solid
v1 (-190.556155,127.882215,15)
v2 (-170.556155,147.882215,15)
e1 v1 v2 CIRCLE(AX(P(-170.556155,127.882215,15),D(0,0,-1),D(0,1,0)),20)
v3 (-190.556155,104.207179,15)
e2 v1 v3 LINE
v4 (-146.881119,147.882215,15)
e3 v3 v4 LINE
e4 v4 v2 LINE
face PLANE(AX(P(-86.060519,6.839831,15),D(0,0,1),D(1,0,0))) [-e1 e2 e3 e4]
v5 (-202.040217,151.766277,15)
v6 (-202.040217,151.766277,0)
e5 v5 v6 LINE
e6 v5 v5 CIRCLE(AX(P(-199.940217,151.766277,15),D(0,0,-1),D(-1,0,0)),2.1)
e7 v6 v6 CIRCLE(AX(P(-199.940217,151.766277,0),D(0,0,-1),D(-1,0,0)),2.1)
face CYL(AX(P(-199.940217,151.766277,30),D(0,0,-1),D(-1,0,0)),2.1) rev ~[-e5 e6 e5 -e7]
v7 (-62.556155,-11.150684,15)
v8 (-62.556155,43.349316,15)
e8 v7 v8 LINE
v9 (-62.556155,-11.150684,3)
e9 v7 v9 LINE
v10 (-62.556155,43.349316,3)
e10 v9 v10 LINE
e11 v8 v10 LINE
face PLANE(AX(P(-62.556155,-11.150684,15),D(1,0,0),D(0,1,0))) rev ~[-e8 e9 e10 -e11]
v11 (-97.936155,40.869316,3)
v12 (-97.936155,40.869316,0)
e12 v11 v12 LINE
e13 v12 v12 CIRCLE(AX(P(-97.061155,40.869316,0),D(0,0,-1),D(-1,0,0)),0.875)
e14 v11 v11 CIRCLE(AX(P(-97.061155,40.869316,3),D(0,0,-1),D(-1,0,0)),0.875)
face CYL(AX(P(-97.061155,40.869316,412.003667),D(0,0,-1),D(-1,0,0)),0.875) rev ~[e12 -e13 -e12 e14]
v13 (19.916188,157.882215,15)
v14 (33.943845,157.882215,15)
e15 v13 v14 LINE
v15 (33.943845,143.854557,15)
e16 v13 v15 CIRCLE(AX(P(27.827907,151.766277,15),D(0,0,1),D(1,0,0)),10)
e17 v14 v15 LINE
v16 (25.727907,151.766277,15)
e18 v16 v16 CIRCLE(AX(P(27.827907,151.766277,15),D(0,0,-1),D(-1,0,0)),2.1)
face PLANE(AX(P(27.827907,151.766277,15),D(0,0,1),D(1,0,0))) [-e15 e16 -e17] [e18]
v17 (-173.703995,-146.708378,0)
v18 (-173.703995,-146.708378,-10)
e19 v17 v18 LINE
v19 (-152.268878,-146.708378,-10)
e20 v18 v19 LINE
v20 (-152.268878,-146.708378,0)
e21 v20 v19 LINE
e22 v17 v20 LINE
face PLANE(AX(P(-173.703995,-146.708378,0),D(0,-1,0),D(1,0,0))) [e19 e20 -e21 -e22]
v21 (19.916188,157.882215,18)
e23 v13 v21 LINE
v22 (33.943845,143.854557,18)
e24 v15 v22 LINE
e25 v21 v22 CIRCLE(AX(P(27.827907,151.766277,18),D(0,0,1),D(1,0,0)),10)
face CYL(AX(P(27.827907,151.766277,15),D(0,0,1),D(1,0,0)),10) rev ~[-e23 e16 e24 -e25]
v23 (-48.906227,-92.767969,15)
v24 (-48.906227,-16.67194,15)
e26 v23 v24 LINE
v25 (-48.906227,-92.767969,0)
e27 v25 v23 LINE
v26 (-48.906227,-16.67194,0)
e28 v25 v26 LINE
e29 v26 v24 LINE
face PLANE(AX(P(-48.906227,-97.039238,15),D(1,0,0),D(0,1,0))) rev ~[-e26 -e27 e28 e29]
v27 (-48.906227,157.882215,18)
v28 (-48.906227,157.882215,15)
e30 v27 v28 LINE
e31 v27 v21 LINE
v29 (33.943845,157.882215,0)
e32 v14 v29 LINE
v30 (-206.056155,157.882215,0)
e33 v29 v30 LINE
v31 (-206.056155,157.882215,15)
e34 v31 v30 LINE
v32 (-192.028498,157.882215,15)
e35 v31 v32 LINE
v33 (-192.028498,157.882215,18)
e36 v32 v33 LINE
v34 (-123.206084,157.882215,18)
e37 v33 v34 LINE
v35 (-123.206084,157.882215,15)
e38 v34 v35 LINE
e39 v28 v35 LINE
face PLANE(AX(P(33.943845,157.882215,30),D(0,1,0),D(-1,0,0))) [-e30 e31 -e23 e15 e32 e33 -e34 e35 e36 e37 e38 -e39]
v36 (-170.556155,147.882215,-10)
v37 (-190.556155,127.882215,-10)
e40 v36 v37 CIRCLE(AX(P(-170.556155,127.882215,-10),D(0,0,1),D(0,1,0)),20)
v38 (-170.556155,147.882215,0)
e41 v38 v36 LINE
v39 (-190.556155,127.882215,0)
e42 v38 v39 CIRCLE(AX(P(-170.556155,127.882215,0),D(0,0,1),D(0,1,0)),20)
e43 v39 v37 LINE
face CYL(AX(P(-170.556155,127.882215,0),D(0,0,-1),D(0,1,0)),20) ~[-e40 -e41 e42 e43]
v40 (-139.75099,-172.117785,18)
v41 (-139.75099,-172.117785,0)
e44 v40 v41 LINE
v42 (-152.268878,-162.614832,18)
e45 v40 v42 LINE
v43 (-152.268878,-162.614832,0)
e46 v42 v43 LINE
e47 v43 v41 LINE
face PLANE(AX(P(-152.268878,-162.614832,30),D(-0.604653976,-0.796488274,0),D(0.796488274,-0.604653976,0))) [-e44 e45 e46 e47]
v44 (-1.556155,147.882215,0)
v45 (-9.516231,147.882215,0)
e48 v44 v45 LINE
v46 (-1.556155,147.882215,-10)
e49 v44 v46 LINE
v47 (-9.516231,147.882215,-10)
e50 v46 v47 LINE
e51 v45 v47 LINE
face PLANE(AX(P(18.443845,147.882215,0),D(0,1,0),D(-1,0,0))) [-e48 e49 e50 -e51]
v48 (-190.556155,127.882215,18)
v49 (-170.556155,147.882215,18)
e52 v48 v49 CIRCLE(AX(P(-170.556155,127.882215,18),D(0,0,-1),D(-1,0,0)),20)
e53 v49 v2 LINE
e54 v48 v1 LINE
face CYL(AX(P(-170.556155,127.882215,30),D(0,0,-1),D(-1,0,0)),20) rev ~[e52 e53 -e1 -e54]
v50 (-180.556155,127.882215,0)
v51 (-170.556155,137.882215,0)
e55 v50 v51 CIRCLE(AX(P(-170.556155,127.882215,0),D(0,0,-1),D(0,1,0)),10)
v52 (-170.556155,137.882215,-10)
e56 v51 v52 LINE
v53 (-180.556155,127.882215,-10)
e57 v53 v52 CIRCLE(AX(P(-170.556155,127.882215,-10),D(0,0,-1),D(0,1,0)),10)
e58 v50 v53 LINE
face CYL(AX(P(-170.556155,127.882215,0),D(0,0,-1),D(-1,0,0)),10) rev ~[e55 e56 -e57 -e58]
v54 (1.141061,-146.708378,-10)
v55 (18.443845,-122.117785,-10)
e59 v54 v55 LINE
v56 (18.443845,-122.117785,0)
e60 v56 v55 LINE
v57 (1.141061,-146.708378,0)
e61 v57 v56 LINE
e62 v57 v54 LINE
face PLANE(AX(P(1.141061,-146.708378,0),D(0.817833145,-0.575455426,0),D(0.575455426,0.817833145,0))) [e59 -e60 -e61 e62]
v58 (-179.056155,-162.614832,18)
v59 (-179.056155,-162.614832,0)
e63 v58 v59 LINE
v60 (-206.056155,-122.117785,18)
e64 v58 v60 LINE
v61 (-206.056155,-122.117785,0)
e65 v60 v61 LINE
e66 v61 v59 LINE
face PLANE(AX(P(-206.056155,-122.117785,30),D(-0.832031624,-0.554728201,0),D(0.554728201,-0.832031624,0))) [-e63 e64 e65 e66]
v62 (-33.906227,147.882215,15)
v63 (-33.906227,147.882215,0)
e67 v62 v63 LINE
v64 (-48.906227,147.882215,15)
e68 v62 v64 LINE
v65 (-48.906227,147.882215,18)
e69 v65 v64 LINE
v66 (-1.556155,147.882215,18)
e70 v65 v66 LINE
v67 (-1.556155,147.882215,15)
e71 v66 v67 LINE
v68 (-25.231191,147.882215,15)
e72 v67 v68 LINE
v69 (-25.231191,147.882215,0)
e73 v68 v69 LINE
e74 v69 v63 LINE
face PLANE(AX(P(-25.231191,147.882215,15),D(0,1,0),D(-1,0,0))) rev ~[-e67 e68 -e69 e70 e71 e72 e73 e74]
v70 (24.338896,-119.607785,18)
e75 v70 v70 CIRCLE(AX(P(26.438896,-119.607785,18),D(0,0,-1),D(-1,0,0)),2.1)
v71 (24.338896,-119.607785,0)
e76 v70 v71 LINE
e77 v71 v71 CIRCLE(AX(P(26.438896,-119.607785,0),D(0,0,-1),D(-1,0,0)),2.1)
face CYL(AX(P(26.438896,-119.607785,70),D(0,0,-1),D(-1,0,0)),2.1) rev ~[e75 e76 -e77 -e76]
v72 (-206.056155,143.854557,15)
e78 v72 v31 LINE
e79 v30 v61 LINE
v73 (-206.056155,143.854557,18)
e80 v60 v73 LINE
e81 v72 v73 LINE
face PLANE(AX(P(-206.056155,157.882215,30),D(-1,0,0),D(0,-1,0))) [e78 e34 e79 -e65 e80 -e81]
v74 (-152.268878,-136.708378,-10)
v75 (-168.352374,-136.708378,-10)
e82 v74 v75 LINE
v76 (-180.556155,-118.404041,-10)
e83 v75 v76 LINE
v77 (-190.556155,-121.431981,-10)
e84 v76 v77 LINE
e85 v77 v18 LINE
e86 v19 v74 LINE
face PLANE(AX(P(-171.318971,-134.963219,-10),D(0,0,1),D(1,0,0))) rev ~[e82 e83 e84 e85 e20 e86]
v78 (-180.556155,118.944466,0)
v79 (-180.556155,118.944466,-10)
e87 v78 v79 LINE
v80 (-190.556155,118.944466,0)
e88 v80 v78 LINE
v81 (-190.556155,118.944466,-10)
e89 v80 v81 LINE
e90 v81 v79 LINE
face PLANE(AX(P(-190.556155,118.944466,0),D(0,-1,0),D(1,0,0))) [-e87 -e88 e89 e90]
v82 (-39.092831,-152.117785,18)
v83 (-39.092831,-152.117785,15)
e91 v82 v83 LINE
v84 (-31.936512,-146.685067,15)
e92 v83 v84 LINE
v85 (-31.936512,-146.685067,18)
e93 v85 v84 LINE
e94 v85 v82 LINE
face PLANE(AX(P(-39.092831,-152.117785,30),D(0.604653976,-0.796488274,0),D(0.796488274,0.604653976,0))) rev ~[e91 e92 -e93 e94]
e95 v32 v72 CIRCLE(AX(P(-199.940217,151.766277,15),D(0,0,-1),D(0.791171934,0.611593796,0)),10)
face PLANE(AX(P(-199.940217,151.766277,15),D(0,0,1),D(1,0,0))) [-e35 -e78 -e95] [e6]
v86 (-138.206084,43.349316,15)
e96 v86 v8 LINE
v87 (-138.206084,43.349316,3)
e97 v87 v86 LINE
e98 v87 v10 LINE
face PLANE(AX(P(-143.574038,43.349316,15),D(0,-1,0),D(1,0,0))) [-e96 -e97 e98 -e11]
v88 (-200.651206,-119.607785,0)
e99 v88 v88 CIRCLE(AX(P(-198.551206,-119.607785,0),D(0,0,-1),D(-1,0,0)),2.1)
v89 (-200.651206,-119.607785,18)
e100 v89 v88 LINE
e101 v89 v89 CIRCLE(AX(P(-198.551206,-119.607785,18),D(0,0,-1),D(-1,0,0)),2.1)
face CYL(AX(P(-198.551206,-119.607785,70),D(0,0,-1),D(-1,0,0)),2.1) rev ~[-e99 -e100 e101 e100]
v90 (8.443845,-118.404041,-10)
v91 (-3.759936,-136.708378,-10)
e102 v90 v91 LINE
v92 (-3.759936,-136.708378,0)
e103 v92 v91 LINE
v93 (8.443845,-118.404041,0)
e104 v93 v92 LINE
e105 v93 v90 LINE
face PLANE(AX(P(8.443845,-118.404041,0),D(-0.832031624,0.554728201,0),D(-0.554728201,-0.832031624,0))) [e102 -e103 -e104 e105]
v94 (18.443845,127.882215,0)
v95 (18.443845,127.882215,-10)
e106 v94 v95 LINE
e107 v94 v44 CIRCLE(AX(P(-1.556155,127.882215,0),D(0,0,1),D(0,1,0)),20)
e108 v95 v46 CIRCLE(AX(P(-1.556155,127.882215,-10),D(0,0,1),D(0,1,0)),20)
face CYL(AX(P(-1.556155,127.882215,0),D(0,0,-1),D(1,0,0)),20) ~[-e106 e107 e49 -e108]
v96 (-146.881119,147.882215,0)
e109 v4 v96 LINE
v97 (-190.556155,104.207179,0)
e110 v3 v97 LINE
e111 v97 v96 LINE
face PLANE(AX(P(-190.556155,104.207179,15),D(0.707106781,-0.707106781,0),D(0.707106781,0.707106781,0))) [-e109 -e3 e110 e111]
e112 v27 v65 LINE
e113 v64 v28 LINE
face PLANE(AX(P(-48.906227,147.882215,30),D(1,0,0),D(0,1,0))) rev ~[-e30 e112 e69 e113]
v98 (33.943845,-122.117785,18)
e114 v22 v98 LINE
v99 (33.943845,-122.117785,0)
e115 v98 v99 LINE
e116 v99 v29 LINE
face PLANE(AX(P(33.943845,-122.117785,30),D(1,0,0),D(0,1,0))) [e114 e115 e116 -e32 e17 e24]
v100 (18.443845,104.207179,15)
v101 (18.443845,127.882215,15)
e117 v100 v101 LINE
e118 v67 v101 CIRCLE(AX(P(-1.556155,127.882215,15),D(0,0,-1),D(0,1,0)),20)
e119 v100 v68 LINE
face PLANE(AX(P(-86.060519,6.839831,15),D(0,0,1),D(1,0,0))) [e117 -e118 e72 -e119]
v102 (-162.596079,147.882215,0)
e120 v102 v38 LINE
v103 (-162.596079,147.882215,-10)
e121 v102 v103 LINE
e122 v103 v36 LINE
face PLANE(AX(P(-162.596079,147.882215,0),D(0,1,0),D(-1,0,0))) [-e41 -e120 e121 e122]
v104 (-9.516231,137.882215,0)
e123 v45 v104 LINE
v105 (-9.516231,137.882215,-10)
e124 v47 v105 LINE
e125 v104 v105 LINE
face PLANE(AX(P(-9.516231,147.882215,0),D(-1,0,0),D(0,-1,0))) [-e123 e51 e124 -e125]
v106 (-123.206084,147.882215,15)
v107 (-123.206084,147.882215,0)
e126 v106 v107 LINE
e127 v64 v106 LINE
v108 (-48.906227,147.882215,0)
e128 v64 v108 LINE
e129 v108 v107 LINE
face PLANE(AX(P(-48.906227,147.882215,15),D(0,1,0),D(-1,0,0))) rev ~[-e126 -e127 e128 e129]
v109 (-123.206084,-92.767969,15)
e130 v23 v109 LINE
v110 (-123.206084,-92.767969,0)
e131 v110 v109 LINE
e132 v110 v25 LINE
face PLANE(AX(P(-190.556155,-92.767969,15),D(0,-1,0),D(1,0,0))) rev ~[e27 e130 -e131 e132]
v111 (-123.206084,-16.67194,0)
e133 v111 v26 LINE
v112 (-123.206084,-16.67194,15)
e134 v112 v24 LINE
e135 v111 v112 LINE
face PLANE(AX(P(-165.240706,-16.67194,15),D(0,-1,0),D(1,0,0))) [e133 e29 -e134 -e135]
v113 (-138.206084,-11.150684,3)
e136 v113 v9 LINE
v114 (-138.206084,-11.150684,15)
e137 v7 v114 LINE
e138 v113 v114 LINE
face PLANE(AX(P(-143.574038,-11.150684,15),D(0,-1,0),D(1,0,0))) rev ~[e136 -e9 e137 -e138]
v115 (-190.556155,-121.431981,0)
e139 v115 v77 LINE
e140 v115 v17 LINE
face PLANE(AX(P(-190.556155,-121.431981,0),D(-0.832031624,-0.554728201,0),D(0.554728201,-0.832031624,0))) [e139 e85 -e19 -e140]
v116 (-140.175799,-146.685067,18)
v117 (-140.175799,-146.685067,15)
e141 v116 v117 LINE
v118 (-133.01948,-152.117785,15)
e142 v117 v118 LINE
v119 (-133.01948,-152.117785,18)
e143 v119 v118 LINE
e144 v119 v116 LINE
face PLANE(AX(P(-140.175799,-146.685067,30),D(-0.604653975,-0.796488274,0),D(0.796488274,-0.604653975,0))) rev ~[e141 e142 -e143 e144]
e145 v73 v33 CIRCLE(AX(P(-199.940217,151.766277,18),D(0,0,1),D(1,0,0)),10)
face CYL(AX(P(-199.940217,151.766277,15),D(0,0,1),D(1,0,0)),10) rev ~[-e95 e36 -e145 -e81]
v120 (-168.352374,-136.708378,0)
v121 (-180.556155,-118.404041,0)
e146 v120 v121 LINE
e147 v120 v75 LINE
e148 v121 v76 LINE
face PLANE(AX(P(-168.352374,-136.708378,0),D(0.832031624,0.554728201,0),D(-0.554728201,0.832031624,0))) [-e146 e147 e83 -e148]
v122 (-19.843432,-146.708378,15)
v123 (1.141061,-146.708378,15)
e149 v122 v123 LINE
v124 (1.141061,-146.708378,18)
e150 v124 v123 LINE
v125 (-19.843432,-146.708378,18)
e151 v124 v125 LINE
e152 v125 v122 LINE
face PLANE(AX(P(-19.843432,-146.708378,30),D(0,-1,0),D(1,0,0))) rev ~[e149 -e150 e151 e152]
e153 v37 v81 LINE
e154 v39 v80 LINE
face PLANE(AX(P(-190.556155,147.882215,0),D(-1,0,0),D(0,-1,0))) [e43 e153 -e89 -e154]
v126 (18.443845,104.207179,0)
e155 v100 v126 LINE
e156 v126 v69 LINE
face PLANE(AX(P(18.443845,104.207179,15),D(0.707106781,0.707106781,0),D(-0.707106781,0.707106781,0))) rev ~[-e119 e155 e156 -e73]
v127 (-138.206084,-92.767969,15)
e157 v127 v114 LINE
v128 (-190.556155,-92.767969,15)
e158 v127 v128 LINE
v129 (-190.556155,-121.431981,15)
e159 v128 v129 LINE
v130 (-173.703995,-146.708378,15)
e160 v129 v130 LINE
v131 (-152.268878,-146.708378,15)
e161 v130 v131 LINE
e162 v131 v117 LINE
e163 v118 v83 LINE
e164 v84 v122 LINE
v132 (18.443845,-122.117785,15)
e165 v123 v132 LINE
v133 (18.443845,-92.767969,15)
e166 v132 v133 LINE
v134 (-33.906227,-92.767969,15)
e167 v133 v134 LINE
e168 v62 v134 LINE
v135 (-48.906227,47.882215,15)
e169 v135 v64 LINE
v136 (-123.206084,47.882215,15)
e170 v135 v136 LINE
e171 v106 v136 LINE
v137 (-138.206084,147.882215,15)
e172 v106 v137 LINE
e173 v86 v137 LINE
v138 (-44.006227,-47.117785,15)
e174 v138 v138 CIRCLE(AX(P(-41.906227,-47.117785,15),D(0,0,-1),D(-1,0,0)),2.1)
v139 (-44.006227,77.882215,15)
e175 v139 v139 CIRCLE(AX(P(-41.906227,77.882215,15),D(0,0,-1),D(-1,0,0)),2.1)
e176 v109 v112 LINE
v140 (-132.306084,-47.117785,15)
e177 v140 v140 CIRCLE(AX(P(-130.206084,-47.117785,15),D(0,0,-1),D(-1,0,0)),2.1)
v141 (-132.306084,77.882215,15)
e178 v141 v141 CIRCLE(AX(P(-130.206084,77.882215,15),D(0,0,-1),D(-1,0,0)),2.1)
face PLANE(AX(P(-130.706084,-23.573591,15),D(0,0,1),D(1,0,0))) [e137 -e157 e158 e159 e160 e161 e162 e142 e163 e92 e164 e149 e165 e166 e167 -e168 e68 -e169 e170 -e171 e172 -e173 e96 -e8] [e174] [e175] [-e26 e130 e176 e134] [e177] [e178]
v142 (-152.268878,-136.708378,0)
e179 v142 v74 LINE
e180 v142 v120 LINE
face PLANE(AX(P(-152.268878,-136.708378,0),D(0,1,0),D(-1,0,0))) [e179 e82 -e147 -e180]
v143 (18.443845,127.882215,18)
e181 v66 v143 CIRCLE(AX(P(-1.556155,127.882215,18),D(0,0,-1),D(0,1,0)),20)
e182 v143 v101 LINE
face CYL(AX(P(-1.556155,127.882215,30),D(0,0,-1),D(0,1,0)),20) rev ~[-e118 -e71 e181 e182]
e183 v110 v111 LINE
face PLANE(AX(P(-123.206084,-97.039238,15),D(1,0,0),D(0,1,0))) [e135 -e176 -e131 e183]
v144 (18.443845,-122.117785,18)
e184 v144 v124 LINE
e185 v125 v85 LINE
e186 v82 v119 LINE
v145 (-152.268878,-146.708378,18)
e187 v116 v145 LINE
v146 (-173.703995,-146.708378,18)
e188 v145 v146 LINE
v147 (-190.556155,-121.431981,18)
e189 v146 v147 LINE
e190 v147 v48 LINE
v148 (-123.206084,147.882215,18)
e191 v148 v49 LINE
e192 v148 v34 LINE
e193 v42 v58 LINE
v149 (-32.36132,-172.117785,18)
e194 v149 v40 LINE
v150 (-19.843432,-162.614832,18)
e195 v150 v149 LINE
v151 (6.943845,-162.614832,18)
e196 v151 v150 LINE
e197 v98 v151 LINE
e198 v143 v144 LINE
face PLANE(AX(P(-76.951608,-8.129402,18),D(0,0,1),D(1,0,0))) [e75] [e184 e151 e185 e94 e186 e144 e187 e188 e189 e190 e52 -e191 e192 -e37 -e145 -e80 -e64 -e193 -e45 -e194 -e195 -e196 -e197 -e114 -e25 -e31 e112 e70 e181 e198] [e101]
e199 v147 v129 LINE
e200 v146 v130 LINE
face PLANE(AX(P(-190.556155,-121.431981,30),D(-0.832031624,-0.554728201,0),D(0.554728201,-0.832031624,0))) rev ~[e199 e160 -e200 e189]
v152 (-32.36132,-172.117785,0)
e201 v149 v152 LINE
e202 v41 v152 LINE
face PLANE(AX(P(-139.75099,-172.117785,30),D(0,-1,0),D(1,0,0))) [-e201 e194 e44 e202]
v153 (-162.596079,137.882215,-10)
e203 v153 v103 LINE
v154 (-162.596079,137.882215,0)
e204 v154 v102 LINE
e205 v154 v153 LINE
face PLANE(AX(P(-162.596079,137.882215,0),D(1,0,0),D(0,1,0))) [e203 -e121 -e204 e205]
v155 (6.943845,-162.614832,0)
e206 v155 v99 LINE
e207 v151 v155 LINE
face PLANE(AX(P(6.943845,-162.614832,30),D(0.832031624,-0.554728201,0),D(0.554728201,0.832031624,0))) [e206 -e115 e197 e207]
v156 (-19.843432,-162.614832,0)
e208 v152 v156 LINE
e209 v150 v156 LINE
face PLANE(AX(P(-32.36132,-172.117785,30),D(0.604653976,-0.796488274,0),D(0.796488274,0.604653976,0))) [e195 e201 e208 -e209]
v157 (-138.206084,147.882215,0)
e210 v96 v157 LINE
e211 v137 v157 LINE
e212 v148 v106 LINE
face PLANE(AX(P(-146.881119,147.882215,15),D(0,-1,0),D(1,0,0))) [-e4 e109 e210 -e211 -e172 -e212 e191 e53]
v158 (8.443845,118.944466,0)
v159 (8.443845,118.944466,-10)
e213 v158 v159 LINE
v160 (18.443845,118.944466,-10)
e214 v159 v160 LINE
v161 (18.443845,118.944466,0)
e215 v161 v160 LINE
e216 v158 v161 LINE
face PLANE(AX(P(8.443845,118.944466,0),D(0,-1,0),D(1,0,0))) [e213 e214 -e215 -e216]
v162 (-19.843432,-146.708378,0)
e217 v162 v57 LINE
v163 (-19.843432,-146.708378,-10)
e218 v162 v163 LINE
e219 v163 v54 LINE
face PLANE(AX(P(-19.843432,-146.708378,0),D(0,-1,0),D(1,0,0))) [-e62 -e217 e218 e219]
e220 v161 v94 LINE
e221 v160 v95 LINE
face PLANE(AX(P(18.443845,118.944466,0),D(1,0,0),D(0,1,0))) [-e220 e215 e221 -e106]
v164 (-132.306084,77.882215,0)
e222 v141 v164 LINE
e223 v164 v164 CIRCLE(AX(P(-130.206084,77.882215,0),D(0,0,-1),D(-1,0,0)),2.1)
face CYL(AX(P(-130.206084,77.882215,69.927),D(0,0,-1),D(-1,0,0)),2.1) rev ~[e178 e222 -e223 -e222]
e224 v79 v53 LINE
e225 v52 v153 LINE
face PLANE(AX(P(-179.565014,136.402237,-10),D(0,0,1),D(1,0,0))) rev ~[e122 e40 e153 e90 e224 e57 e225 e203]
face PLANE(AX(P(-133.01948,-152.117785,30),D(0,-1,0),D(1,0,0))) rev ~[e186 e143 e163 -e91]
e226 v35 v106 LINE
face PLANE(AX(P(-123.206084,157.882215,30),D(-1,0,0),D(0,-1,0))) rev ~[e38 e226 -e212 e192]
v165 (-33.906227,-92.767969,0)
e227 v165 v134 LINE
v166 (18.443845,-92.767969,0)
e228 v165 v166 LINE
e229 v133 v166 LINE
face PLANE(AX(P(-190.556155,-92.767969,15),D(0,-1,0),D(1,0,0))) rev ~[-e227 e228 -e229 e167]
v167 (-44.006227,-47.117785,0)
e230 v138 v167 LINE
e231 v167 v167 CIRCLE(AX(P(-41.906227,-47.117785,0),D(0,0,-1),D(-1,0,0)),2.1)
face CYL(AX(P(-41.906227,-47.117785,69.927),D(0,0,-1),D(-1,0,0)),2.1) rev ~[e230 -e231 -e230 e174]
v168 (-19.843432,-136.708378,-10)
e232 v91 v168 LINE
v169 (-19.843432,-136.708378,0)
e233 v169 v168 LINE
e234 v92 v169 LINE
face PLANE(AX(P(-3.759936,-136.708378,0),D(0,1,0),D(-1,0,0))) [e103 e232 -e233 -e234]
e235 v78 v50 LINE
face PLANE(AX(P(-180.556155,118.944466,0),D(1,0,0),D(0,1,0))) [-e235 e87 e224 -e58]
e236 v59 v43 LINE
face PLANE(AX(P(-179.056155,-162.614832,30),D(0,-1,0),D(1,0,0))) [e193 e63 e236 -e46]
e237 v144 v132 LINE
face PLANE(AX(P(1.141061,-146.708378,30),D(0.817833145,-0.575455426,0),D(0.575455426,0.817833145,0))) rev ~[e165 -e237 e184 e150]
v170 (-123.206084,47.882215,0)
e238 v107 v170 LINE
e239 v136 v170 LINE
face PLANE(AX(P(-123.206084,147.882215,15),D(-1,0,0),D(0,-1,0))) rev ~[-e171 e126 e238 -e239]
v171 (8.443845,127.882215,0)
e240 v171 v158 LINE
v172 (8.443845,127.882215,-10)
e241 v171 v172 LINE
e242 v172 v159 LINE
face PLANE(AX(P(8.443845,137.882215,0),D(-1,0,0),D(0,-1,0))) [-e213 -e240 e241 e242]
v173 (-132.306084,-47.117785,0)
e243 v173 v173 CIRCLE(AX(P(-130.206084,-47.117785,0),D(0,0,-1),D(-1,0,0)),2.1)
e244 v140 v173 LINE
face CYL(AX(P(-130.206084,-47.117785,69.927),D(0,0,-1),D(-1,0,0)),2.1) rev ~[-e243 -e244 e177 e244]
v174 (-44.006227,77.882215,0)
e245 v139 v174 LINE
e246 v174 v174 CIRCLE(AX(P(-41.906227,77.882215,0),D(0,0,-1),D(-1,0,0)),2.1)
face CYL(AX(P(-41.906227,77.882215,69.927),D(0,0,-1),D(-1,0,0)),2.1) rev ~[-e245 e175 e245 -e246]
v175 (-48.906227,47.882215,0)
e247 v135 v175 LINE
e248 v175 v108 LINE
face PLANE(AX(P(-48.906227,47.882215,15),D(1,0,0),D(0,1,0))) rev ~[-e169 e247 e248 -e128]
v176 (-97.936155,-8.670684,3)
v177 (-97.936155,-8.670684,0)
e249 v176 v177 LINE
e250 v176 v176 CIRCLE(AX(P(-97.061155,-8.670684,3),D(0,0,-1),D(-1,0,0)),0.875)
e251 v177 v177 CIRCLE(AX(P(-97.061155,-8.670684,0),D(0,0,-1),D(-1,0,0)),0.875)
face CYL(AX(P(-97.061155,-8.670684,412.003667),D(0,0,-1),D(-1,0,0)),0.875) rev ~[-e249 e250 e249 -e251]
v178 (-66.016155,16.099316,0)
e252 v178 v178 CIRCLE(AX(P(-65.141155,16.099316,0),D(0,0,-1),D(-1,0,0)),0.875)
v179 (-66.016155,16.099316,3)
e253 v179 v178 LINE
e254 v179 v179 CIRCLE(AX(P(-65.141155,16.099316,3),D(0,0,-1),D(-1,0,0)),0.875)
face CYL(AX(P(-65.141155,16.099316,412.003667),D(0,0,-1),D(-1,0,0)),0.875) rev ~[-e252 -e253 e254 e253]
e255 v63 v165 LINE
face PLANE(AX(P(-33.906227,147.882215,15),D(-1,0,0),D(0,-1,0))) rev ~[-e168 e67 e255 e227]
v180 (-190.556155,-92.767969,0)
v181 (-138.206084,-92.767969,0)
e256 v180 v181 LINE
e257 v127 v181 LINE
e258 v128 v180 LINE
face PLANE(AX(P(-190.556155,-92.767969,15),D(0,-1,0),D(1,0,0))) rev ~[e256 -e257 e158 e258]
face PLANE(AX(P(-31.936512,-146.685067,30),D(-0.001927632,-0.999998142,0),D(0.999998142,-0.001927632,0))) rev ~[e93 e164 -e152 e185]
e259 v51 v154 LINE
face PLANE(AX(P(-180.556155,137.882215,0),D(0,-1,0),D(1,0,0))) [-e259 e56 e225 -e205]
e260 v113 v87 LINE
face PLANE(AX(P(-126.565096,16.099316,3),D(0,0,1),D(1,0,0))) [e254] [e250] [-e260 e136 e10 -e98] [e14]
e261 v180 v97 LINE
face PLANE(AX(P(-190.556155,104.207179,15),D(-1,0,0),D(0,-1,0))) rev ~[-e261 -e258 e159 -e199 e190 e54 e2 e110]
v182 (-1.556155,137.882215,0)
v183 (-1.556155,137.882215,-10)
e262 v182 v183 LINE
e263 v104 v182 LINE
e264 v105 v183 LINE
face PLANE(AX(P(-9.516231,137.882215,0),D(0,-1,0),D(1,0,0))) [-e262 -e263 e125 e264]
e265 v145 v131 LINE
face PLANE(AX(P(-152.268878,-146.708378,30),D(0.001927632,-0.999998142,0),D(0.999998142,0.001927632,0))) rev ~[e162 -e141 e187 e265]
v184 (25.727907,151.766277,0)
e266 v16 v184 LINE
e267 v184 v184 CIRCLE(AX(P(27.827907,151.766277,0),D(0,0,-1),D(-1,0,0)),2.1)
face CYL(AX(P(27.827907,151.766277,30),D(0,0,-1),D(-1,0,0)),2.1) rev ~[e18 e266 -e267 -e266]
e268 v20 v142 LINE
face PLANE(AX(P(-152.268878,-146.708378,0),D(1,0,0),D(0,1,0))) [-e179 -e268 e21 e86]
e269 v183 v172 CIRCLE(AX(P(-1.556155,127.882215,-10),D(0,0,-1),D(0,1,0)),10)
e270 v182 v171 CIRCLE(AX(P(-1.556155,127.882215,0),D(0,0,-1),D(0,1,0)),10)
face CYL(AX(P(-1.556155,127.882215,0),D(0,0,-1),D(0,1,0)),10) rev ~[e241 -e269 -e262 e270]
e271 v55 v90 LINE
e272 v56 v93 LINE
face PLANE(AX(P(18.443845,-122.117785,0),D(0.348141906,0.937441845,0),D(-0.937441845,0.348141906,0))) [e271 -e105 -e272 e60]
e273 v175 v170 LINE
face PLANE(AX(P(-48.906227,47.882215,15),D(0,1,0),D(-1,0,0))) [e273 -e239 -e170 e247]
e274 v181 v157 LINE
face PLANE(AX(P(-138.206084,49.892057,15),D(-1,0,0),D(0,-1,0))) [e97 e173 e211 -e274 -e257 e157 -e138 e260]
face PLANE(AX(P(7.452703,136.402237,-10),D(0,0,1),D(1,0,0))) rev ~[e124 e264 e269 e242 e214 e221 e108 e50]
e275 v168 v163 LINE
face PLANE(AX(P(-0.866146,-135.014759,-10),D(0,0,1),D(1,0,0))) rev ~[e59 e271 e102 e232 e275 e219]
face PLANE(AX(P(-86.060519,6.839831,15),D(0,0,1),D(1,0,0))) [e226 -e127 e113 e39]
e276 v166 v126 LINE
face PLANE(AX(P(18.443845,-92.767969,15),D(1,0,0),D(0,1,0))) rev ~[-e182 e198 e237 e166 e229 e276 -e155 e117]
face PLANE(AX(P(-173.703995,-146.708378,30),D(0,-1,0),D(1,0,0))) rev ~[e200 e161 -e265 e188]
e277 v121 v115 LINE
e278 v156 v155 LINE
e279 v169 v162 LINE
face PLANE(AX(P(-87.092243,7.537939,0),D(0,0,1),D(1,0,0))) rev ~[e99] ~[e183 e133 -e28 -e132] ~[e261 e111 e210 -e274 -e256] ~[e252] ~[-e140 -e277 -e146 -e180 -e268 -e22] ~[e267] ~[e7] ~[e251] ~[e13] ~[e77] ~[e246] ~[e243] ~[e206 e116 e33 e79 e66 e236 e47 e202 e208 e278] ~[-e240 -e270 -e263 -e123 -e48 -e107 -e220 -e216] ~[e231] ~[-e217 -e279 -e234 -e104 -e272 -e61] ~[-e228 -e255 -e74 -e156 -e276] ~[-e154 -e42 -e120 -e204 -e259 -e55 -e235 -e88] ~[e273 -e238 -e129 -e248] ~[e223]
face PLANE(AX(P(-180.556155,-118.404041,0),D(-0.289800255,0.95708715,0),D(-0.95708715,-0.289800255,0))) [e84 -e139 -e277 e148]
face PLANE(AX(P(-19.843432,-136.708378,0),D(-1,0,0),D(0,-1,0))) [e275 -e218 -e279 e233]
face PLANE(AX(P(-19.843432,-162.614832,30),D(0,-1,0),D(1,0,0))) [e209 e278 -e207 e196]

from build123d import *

# Parameters (mm, degrees)
BOSS_EXTRU_1_DEPTH                                = 30
ENL_V_MAT_EXTRU_1_DEPTH                           = 15
BOSS_EXTRU_2_DEPTH                                = 10
BOSS_EXTRU_3_DEPTH                                = 10
BOSS_EXTRU_4_DEPTH                                = 10
BOSS_EXTRU_5_DEPTH                                = 10
DIAM_TRE_DU_PER_AGE_4_2_4_2_1_D                   = 4.2
DIAM_TRE_DU_PER_AGE_4_2_4_2_1_DEPTH               = 40
CHAMBRAGE_POUR_VIS_T_TE_HEXAGONALE_M3_D           = 4.2
CHAMBRAGE_POUR_VIS_T_TE_HEXAGONALE_M3_DEPTH       = 40
CHAMBRAGE_POUR_VIS_T_TE_HEXAGONALE_M3_CBORE_D     = 20
CHAMBRAGE_POUR_VIS_T_TE_HEXAGONALE_M3_CBORE_DEPTH = 15
CONG_1_R                                          = 10
CONG_2_R                                          = 20
ENL_V_MAT_EXTRU_2_DEPTH                           = 270.645454496
TROU_TARAUD_M5X0_81_D                             = 4.2
TROU_TARAUD_M5X0_81_ON_FACE_2_D                   = 4.2
BOSS_EXTRU_6_DEPTH                                = 15
ESQUISSE14_W                                      = 344.623968027
ESQUISSE14_H                                      = 364.856294917
ENL_V_MAT_EXTRU_3_DEPTH                           = 12
BOSS_EXTRU_7_DEPTH                                = 15
ESQUISSE16_W                                      = 47
ESQUISSE16_H                                      = 54.5
ENL_V_MAT_EXTRU_4_DEPTH                           = 12
ESQUISSE17_R                                      = 0.5
ENL_V_MAT_EXTRU_5_DEPTH                           = 12
TROU_TARAUD_M2_2X0_451_D                          = 1.75
ENL_V_MAT_EXTRU_6_DEPTH                           = 270.645454496
BOSS_EXTRU_8_DEPTH                                = 15
ESQUISSE21_W                                      = 34.017882368
ESQUISSE21_H                                      = 54.5
ENL_V_MAT_EXTRU_7_DEPTH                           = 12
TROU_TARAUD_M5X0_82_D                             = 4.2
TROU_TARAUD_M5X0_82_DEPTH                         = 54.927
TROU_TARAUD_M5X0_82_TIP                           = 1.2618073
TROU_TARAUD_M5X0_84_D                             = 4.2
TROU_TARAUD_M5X0_84_DEPTH                         = 54.927
TROU_TARAUD_M5X0_84_TIP                           = 1.2618073


with BuildPart() as part:
    # Esquisse1 → Boss.-Extru.1 (new body)
    with BuildSketch(Plane.XY.offset(30)):
        Polygon((33.943844834, -122.117785393), (33.943844834, 157.882214607), (-206.056155166, 157.882214607), (-206.056155166, -122.117785393), (-179.056155166, -162.614832092), (-152.268878217, -162.614832092), (-139.750990012, -172.117785393), (-32.361320321, -172.117785393), (-19.843432116, -162.614832092), (6.943844834, -162.614832092), align=None)
    extrude(amount=-BOSS_EXTRU_1_DEPTH)

    # Esquisse2 → Enlèv. mat.-Extru.1 (cut)
    with BuildSketch(Plane.XY.offset(30)):
        Polygon((-123.206083599, 157.882214607), (-123.206083599, 147.882214607), (-190.556155166, 147.882214607), (-190.556155166, -121.431981452), (-173.70399548, -146.708377667), (-152.268878217, -146.708377667), (-140.175798707, -146.685066621), (-133.019479604, -152.117785393), (-39.092830728, -152.117785393), (-31.936511626, -146.685066621), (-19.843432116, -146.708377667), (1.141061448, -146.708377667), (18.443844834, -122.117785393), (18.443844834, 147.882214607), (-48.906226734, 147.882214607), (-48.906226734, 157.882214607), align=None)
    extrude(amount=-ENL_V_MAT_EXTRU_1_DEPTH, mode=Mode.SUBTRACT)

    # Esquisse3 → Boss.-Extru.2 (add)
    with BuildSketch(Plane(origin=(0, 0, 0), x_dir=(-1, 0, 0), z_dir=(0, 0, -1))):
        Polygon((162.596079372, 137.882214607), (162.596079372, 147.882214607), (190.556155166, 147.882214607), (190.556155166, 118.944465923), (180.556155166, 118.944465923), (180.556155166, 137.882214607), align=None)
    extrude(amount=BOSS_EXTRU_2_DEPTH)

    # Esquisse4 → Boss.-Extru.3 (add)
    with BuildSketch(Plane(origin=(0, 0, 0), x_dir=(-1, 0, 0), z_dir=(0, 0, -1))):
        Polygon((152.268878217, -136.708377667), (168.352374382, -136.708377667), (180.556155166, -118.404041358), (190.556155166, -121.431981452), (173.70399548, -146.708377667), (152.268878217, -146.708377667), align=None)
    extrude(amount=BOSS_EXTRU_3_DEPTH)

    # Esquisse5 → Boss.-Extru.4 (add)
    with BuildSketch(Plane(origin=(0, 0, 0), x_dir=(-1, 0, 0), z_dir=(0, 0, -1))):
        Polygon((-8.443844834, 137.882214607), (-8.443844834, 118.944465923), (-18.443844834, 118.944465923), (-18.443844834, 147.882214607), (9.516230961, 147.882214607), (9.516230961, 137.882214607), align=None)
    extrude(amount=BOSS_EXTRU_4_DEPTH)

    # Esquisse6 → Boss.-Extru.5 (add)
    with BuildSketch(Plane(origin=(0, 0, 0), x_dir=(-1, 0, 0), z_dir=(0, 0, -1))):
        Polygon((3.759935951, -136.708377667), (19.843432116, -136.708377667), (19.843432116, -146.708377667), (-1.141061448, -146.708377667), (-18.443844834, -122.117785393), (-8.443844834, -118.404041358), align=None)
    extrude(amount=BOSS_EXTRU_5_DEPTH)

    # Diamètre du perçage Ø4.2 (4.2)1
    with Locations(Plane.XY.offset(30)):
        with Locations((26.438895769, -119.607785393), (-198.551206101, -119.607785393)):
            Hole(DIAM_TRE_DU_PER_AGE_4_2_4_2_1_D / 2, depth=DIAM_TRE_DU_PER_AGE_4_2_4_2_1_DEPTH)

    # Chambrage pour vis à tête hexagonale M3.51
    with Locations(Plane.XY.offset(30)):
        with Locations((-199.94021721, 151.76627665), (27.827906877, 151.76627665)):
            CounterBoreHole(CHAMBRAGE_POUR_VIS_T_TE_HEXAGONALE_M3_D / 2, CHAMBRAGE_POUR_VIS_T_TE_HEXAGONALE_M3_CBORE_D / 2, CHAMBRAGE_POUR_VIS_T_TE_HEXAGONALE_M3_CBORE_DEPTH, depth=CHAMBRAGE_POUR_VIS_T_TE_HEXAGONALE_M3_DEPTH)

    # Congé1
    cong_1_edges = [part.edges().sort_by_distance(p)[0] for p in [
        (8.443844834, 137.882214607, -5),
        (-180.556155166, 137.882214607, -5),
    ]]
    fillet(cong_1_edges, radius=CONG_1_R)

    # Congé2
    cong_2_edges = [part.edges().sort_by_distance(p)[0] for p in [
        (18.443844834, 147.882214607, -5),
        (18.443844834, 147.882214607, 22.5),
        (-190.556155166, 147.882214607, 22.5),
        (-190.556155166, 147.882214607, -5),
    ]]
    fillet(cong_2_edges, radius=CONG_2_R)

    # Esquisse11 → Enlèv. mat.-Extru.2 (cut, through all)
    with BuildSketch(Plane.XY.offset(15)):
        Polygon((-123.206083599, 147.882214607), (-123.206083599, 47.882214607), (-190.556155166, -22.43592162), (-190.556155166, -92.767969228), (18.443844834, -92.767969228), (18.443844834, -22.43592162), (-48.906226734, 47.882214607), (-48.906226734, 147.882214607), align=None)
        Polygon((-138.206083599, 147.882214607), (-138.206083599, 57.882214607), (-190.556155166, 3.225116578), (-190.556155166, 95.532143039), (-190.556155166, 104.207178823), (-146.881119383, 147.882214607), align=None)
        Polygon((-33.906226734, 57.882214607), (18.443844834, 3.225116578), (18.443844834, 95.532143039), (18.443844834, 104.207178823), (-25.23119095, 147.882214607), (-33.906226734, 147.882214607), align=None)
    extrude(amount=-ENL_V_MAT_EXTRU_2_DEPTH, mode=Mode.SUBTRACT)

    # Trou taraudé M5x0.81 (through all)
    with Locations(Plane(origin=(-199.94021721, 151.76627665, 15), x_dir=(1, 0, 0), z_dir=(0, 0, 1))):
        with Locations((0, 0), (227.768124087, 0)):
            Hole(TROU_TARAUD_M5X0_81_D / 2)

    # Trou taraudé M5x0.81 on face 2 (through all)
    with Locations(Plane(origin=(26.438895769, -119.607785393, 30), x_dir=(1, 0, 0), z_dir=(0, 0, 1))):
        with Locations((0, 0), (-224.99010187, 0)):
            Hole(TROU_TARAUD_M5X0_81_ON_FACE_2_D / 2)

    # Esquisse13 → Boss.-Extru.6 (add)
    with BuildSketch(Plane.XY.offset(15)):
        Polygon((-48.906226734, 47.882214607), (-123.206083599, 47.882214607), (-148.90605105, 21.049669812), (-190.556155166, -22.43592162), (-190.556155166, -49.268466414), (-123.206083599, 21.049669812), (-48.906226734, 21.049669812), (18.443844834, -49.268466414), (18.443844834, -22.43592162), (-23.206259282, 21.049669812), align=None)
    extrude(amount=-BOSS_EXTRU_6_DEPTH)

    # Esquisse14 → Enlèv. mat.-Extru.3 (cut)
    with BuildSketch(Plane.XY.offset(30)):
        with Locations((-76.951608065, -8.129401738)):
            Rectangle(ESQUISSE14_W, ESQUISSE14_H)
    extrude(amount=-ENL_V_MAT_EXTRU_3_DEPTH, mode=Mode.SUBTRACT)

    # Esquisse15 → Boss.-Extru.7 (add)
    with BuildSketch(Plane.XY.offset(15)):
        Polygon((-165.240705537, 11.949496673), (-165.240705537, -16.671939758), (-10.373483375, -16.671939758), (-10.373483375, 17.080639576), (-29.498652377, 36.205808578), (-140.984393632, 36.205808578), align=None)
    extrude(amount=-BOSS_EXTRU_7_DEPTH)

    # Esquisse16 → Enlèv. mat.-Extru.4 (cut)
    with BuildSketch(Plane.XY.offset(15)):
        with Locations((-86.056155166, 16.099315521)):
            Rectangle(ESQUISSE16_W, ESQUISSE16_H)
    extrude(amount=-ENL_V_MAT_EXTRU_4_DEPTH, mode=Mode.SUBTRACT)

    # Esquisse17 → Enlèv. mat.-Extru.5 (cut)
    with BuildSketch(Plane.XY.offset(3)):
        with Locations((-97.061155166, 40.869315521)):
            Circle(ESQUISSE17_R)
        with Locations((-65.141155166, 16.099315521)):
            Circle(ESQUISSE17_R)
        with Locations((-97.061155166, -8.670684479)):
            Circle(ESQUISSE17_R)
    extrude(amount=-ENL_V_MAT_EXTRU_5_DEPTH, mode=Mode.SUBTRACT)

    # Trou taraudé M2.2x0.451 (through all)
    with Locations(Plane(origin=(-97.061155166, 40.869315521, 3), x_dir=(1, 0, 0), z_dir=(0, 0, 1))):
        with Locations((0, 0), (31.92, -24.77), (0, -49.54)):
            Hole(TROU_TARAUD_M2_2X0_451_D / 2)

    # Esquisse19 → Enlèv. mat.-Extru.6 (cut, through all)
    with BuildSketch(Plane.XY.offset(15)):
        Polygon((-138.206083599, -92.767969228), (-138.206083599, -16.671939758), (-159.335498292, -16.671939758), (-190.556155166, -49.268466414), (-190.556155166, -92.767969228), align=None)
        Polygon((-190.556155166, 3.225116578), (-138.206083599, 57.882214607), (-190.556155166, 57.882214607), align=None)
        Polygon((-138.206083599, -16.671939758), (-138.206083599, 57.882214607), (-190.556155166, 3.225116578), (-190.556155166, -49.268466414), (-159.335498292, -16.671939758), align=None)
        Polygon((18.443844834, 57.882214607), (-33.906226734, 57.882214607), (18.443844834, 3.225116578), align=None)
        Polygon((-33.906226734, 57.882214607), (-33.906226734, -16.671939758), (-12.77681204, -16.671939758), (18.443844834, -49.268466414), (18.443844834, 3.225116578), align=None)
        Polygon((-12.77681204, -16.671939758), (-33.906226734, -16.671939758), (-33.906226734, -92.767969228), (18.443844834, -92.767969228), (18.443844834, -49.268466414), align=None)
    extrude(amount=-ENL_V_MAT_EXTRU_6_DEPTH, mode=Mode.SUBTRACT)

    # Esquisse20 → Boss.-Extru.8 (add)
    with BuildSketch(Plane.XY.offset(15)):
        Polygon((-138.206083599, -16.671939758), (-138.206083599, -97.039238238), (-123.206083599, -97.039238238), (-123.206083599, 49.892057072), (-138.206083599, 49.892057072), align=None)
        Polygon((-48.906226734, 49.892057072), (-33.906226734, 49.892057072), (-33.906226734, -16.671939758), (-33.906226734, -97.039238238), (-48.906226734, -97.039238238), align=None)
    extrude(amount=-BOSS_EXTRU_8_DEPTH)

    # Esquisse21 → Enlèv. mat.-Extru.7 (cut)
    with BuildSketch(Plane.XY.offset(15)):
        with Locations((-126.56509635, 16.099315521)):
            Rectangle(ESQUISSE21_W, ESQUISSE21_H)
    extrude(amount=-ENL_V_MAT_EXTRU_7_DEPTH, mode=Mode.SUBTRACT)

    # Trou taraudé M5x0.82
    with Locations(Plane(origin=(-130.206083599, 77.882214607, 15), x_dir=(1, 0, 0), z_dir=(0, 0, 1))):
        with Locations((0, 0), (88.299856865, 0)):
            Hole(TROU_TARAUD_M5X0_82_D / 2, depth=TROU_TARAUD_M5X0_82_DEPTH)
            with Locations((0, 0, -(TROU_TARAUD_M5X0_82_DEPTH + TROU_TARAUD_M5X0_82_TIP / 2))):  # 118° drill point
                Cone(0, TROU_TARAUD_M5X0_82_D / 2, TROU_TARAUD_M5X0_82_TIP, mode=Mode.SUBTRACT)

    # Trou taraudé M5x0.84
    with Locations(Plane(origin=(-130.206083599, -47.117785393, 15), x_dir=(1, 0, 0), z_dir=(0, 0, 1))):
        with Locations((0, 0), (88.299856865, 0)):
            Hole(TROU_TARAUD_M5X0_84_D / 2, depth=TROU_TARAUD_M5X0_84_DEPTH)
            with Locations((0, 0, -(TROU_TARAUD_M5X0_84_DEPTH + TROU_TARAUD_M5X0_84_TIP / 2))):  # 118° drill point
                Cone(0, TROU_TARAUD_M5X0_84_D / 2, TROU_TARAUD_M5X0_84_TIP, mode=Mode.SUBTRACT)


solid = part.part
